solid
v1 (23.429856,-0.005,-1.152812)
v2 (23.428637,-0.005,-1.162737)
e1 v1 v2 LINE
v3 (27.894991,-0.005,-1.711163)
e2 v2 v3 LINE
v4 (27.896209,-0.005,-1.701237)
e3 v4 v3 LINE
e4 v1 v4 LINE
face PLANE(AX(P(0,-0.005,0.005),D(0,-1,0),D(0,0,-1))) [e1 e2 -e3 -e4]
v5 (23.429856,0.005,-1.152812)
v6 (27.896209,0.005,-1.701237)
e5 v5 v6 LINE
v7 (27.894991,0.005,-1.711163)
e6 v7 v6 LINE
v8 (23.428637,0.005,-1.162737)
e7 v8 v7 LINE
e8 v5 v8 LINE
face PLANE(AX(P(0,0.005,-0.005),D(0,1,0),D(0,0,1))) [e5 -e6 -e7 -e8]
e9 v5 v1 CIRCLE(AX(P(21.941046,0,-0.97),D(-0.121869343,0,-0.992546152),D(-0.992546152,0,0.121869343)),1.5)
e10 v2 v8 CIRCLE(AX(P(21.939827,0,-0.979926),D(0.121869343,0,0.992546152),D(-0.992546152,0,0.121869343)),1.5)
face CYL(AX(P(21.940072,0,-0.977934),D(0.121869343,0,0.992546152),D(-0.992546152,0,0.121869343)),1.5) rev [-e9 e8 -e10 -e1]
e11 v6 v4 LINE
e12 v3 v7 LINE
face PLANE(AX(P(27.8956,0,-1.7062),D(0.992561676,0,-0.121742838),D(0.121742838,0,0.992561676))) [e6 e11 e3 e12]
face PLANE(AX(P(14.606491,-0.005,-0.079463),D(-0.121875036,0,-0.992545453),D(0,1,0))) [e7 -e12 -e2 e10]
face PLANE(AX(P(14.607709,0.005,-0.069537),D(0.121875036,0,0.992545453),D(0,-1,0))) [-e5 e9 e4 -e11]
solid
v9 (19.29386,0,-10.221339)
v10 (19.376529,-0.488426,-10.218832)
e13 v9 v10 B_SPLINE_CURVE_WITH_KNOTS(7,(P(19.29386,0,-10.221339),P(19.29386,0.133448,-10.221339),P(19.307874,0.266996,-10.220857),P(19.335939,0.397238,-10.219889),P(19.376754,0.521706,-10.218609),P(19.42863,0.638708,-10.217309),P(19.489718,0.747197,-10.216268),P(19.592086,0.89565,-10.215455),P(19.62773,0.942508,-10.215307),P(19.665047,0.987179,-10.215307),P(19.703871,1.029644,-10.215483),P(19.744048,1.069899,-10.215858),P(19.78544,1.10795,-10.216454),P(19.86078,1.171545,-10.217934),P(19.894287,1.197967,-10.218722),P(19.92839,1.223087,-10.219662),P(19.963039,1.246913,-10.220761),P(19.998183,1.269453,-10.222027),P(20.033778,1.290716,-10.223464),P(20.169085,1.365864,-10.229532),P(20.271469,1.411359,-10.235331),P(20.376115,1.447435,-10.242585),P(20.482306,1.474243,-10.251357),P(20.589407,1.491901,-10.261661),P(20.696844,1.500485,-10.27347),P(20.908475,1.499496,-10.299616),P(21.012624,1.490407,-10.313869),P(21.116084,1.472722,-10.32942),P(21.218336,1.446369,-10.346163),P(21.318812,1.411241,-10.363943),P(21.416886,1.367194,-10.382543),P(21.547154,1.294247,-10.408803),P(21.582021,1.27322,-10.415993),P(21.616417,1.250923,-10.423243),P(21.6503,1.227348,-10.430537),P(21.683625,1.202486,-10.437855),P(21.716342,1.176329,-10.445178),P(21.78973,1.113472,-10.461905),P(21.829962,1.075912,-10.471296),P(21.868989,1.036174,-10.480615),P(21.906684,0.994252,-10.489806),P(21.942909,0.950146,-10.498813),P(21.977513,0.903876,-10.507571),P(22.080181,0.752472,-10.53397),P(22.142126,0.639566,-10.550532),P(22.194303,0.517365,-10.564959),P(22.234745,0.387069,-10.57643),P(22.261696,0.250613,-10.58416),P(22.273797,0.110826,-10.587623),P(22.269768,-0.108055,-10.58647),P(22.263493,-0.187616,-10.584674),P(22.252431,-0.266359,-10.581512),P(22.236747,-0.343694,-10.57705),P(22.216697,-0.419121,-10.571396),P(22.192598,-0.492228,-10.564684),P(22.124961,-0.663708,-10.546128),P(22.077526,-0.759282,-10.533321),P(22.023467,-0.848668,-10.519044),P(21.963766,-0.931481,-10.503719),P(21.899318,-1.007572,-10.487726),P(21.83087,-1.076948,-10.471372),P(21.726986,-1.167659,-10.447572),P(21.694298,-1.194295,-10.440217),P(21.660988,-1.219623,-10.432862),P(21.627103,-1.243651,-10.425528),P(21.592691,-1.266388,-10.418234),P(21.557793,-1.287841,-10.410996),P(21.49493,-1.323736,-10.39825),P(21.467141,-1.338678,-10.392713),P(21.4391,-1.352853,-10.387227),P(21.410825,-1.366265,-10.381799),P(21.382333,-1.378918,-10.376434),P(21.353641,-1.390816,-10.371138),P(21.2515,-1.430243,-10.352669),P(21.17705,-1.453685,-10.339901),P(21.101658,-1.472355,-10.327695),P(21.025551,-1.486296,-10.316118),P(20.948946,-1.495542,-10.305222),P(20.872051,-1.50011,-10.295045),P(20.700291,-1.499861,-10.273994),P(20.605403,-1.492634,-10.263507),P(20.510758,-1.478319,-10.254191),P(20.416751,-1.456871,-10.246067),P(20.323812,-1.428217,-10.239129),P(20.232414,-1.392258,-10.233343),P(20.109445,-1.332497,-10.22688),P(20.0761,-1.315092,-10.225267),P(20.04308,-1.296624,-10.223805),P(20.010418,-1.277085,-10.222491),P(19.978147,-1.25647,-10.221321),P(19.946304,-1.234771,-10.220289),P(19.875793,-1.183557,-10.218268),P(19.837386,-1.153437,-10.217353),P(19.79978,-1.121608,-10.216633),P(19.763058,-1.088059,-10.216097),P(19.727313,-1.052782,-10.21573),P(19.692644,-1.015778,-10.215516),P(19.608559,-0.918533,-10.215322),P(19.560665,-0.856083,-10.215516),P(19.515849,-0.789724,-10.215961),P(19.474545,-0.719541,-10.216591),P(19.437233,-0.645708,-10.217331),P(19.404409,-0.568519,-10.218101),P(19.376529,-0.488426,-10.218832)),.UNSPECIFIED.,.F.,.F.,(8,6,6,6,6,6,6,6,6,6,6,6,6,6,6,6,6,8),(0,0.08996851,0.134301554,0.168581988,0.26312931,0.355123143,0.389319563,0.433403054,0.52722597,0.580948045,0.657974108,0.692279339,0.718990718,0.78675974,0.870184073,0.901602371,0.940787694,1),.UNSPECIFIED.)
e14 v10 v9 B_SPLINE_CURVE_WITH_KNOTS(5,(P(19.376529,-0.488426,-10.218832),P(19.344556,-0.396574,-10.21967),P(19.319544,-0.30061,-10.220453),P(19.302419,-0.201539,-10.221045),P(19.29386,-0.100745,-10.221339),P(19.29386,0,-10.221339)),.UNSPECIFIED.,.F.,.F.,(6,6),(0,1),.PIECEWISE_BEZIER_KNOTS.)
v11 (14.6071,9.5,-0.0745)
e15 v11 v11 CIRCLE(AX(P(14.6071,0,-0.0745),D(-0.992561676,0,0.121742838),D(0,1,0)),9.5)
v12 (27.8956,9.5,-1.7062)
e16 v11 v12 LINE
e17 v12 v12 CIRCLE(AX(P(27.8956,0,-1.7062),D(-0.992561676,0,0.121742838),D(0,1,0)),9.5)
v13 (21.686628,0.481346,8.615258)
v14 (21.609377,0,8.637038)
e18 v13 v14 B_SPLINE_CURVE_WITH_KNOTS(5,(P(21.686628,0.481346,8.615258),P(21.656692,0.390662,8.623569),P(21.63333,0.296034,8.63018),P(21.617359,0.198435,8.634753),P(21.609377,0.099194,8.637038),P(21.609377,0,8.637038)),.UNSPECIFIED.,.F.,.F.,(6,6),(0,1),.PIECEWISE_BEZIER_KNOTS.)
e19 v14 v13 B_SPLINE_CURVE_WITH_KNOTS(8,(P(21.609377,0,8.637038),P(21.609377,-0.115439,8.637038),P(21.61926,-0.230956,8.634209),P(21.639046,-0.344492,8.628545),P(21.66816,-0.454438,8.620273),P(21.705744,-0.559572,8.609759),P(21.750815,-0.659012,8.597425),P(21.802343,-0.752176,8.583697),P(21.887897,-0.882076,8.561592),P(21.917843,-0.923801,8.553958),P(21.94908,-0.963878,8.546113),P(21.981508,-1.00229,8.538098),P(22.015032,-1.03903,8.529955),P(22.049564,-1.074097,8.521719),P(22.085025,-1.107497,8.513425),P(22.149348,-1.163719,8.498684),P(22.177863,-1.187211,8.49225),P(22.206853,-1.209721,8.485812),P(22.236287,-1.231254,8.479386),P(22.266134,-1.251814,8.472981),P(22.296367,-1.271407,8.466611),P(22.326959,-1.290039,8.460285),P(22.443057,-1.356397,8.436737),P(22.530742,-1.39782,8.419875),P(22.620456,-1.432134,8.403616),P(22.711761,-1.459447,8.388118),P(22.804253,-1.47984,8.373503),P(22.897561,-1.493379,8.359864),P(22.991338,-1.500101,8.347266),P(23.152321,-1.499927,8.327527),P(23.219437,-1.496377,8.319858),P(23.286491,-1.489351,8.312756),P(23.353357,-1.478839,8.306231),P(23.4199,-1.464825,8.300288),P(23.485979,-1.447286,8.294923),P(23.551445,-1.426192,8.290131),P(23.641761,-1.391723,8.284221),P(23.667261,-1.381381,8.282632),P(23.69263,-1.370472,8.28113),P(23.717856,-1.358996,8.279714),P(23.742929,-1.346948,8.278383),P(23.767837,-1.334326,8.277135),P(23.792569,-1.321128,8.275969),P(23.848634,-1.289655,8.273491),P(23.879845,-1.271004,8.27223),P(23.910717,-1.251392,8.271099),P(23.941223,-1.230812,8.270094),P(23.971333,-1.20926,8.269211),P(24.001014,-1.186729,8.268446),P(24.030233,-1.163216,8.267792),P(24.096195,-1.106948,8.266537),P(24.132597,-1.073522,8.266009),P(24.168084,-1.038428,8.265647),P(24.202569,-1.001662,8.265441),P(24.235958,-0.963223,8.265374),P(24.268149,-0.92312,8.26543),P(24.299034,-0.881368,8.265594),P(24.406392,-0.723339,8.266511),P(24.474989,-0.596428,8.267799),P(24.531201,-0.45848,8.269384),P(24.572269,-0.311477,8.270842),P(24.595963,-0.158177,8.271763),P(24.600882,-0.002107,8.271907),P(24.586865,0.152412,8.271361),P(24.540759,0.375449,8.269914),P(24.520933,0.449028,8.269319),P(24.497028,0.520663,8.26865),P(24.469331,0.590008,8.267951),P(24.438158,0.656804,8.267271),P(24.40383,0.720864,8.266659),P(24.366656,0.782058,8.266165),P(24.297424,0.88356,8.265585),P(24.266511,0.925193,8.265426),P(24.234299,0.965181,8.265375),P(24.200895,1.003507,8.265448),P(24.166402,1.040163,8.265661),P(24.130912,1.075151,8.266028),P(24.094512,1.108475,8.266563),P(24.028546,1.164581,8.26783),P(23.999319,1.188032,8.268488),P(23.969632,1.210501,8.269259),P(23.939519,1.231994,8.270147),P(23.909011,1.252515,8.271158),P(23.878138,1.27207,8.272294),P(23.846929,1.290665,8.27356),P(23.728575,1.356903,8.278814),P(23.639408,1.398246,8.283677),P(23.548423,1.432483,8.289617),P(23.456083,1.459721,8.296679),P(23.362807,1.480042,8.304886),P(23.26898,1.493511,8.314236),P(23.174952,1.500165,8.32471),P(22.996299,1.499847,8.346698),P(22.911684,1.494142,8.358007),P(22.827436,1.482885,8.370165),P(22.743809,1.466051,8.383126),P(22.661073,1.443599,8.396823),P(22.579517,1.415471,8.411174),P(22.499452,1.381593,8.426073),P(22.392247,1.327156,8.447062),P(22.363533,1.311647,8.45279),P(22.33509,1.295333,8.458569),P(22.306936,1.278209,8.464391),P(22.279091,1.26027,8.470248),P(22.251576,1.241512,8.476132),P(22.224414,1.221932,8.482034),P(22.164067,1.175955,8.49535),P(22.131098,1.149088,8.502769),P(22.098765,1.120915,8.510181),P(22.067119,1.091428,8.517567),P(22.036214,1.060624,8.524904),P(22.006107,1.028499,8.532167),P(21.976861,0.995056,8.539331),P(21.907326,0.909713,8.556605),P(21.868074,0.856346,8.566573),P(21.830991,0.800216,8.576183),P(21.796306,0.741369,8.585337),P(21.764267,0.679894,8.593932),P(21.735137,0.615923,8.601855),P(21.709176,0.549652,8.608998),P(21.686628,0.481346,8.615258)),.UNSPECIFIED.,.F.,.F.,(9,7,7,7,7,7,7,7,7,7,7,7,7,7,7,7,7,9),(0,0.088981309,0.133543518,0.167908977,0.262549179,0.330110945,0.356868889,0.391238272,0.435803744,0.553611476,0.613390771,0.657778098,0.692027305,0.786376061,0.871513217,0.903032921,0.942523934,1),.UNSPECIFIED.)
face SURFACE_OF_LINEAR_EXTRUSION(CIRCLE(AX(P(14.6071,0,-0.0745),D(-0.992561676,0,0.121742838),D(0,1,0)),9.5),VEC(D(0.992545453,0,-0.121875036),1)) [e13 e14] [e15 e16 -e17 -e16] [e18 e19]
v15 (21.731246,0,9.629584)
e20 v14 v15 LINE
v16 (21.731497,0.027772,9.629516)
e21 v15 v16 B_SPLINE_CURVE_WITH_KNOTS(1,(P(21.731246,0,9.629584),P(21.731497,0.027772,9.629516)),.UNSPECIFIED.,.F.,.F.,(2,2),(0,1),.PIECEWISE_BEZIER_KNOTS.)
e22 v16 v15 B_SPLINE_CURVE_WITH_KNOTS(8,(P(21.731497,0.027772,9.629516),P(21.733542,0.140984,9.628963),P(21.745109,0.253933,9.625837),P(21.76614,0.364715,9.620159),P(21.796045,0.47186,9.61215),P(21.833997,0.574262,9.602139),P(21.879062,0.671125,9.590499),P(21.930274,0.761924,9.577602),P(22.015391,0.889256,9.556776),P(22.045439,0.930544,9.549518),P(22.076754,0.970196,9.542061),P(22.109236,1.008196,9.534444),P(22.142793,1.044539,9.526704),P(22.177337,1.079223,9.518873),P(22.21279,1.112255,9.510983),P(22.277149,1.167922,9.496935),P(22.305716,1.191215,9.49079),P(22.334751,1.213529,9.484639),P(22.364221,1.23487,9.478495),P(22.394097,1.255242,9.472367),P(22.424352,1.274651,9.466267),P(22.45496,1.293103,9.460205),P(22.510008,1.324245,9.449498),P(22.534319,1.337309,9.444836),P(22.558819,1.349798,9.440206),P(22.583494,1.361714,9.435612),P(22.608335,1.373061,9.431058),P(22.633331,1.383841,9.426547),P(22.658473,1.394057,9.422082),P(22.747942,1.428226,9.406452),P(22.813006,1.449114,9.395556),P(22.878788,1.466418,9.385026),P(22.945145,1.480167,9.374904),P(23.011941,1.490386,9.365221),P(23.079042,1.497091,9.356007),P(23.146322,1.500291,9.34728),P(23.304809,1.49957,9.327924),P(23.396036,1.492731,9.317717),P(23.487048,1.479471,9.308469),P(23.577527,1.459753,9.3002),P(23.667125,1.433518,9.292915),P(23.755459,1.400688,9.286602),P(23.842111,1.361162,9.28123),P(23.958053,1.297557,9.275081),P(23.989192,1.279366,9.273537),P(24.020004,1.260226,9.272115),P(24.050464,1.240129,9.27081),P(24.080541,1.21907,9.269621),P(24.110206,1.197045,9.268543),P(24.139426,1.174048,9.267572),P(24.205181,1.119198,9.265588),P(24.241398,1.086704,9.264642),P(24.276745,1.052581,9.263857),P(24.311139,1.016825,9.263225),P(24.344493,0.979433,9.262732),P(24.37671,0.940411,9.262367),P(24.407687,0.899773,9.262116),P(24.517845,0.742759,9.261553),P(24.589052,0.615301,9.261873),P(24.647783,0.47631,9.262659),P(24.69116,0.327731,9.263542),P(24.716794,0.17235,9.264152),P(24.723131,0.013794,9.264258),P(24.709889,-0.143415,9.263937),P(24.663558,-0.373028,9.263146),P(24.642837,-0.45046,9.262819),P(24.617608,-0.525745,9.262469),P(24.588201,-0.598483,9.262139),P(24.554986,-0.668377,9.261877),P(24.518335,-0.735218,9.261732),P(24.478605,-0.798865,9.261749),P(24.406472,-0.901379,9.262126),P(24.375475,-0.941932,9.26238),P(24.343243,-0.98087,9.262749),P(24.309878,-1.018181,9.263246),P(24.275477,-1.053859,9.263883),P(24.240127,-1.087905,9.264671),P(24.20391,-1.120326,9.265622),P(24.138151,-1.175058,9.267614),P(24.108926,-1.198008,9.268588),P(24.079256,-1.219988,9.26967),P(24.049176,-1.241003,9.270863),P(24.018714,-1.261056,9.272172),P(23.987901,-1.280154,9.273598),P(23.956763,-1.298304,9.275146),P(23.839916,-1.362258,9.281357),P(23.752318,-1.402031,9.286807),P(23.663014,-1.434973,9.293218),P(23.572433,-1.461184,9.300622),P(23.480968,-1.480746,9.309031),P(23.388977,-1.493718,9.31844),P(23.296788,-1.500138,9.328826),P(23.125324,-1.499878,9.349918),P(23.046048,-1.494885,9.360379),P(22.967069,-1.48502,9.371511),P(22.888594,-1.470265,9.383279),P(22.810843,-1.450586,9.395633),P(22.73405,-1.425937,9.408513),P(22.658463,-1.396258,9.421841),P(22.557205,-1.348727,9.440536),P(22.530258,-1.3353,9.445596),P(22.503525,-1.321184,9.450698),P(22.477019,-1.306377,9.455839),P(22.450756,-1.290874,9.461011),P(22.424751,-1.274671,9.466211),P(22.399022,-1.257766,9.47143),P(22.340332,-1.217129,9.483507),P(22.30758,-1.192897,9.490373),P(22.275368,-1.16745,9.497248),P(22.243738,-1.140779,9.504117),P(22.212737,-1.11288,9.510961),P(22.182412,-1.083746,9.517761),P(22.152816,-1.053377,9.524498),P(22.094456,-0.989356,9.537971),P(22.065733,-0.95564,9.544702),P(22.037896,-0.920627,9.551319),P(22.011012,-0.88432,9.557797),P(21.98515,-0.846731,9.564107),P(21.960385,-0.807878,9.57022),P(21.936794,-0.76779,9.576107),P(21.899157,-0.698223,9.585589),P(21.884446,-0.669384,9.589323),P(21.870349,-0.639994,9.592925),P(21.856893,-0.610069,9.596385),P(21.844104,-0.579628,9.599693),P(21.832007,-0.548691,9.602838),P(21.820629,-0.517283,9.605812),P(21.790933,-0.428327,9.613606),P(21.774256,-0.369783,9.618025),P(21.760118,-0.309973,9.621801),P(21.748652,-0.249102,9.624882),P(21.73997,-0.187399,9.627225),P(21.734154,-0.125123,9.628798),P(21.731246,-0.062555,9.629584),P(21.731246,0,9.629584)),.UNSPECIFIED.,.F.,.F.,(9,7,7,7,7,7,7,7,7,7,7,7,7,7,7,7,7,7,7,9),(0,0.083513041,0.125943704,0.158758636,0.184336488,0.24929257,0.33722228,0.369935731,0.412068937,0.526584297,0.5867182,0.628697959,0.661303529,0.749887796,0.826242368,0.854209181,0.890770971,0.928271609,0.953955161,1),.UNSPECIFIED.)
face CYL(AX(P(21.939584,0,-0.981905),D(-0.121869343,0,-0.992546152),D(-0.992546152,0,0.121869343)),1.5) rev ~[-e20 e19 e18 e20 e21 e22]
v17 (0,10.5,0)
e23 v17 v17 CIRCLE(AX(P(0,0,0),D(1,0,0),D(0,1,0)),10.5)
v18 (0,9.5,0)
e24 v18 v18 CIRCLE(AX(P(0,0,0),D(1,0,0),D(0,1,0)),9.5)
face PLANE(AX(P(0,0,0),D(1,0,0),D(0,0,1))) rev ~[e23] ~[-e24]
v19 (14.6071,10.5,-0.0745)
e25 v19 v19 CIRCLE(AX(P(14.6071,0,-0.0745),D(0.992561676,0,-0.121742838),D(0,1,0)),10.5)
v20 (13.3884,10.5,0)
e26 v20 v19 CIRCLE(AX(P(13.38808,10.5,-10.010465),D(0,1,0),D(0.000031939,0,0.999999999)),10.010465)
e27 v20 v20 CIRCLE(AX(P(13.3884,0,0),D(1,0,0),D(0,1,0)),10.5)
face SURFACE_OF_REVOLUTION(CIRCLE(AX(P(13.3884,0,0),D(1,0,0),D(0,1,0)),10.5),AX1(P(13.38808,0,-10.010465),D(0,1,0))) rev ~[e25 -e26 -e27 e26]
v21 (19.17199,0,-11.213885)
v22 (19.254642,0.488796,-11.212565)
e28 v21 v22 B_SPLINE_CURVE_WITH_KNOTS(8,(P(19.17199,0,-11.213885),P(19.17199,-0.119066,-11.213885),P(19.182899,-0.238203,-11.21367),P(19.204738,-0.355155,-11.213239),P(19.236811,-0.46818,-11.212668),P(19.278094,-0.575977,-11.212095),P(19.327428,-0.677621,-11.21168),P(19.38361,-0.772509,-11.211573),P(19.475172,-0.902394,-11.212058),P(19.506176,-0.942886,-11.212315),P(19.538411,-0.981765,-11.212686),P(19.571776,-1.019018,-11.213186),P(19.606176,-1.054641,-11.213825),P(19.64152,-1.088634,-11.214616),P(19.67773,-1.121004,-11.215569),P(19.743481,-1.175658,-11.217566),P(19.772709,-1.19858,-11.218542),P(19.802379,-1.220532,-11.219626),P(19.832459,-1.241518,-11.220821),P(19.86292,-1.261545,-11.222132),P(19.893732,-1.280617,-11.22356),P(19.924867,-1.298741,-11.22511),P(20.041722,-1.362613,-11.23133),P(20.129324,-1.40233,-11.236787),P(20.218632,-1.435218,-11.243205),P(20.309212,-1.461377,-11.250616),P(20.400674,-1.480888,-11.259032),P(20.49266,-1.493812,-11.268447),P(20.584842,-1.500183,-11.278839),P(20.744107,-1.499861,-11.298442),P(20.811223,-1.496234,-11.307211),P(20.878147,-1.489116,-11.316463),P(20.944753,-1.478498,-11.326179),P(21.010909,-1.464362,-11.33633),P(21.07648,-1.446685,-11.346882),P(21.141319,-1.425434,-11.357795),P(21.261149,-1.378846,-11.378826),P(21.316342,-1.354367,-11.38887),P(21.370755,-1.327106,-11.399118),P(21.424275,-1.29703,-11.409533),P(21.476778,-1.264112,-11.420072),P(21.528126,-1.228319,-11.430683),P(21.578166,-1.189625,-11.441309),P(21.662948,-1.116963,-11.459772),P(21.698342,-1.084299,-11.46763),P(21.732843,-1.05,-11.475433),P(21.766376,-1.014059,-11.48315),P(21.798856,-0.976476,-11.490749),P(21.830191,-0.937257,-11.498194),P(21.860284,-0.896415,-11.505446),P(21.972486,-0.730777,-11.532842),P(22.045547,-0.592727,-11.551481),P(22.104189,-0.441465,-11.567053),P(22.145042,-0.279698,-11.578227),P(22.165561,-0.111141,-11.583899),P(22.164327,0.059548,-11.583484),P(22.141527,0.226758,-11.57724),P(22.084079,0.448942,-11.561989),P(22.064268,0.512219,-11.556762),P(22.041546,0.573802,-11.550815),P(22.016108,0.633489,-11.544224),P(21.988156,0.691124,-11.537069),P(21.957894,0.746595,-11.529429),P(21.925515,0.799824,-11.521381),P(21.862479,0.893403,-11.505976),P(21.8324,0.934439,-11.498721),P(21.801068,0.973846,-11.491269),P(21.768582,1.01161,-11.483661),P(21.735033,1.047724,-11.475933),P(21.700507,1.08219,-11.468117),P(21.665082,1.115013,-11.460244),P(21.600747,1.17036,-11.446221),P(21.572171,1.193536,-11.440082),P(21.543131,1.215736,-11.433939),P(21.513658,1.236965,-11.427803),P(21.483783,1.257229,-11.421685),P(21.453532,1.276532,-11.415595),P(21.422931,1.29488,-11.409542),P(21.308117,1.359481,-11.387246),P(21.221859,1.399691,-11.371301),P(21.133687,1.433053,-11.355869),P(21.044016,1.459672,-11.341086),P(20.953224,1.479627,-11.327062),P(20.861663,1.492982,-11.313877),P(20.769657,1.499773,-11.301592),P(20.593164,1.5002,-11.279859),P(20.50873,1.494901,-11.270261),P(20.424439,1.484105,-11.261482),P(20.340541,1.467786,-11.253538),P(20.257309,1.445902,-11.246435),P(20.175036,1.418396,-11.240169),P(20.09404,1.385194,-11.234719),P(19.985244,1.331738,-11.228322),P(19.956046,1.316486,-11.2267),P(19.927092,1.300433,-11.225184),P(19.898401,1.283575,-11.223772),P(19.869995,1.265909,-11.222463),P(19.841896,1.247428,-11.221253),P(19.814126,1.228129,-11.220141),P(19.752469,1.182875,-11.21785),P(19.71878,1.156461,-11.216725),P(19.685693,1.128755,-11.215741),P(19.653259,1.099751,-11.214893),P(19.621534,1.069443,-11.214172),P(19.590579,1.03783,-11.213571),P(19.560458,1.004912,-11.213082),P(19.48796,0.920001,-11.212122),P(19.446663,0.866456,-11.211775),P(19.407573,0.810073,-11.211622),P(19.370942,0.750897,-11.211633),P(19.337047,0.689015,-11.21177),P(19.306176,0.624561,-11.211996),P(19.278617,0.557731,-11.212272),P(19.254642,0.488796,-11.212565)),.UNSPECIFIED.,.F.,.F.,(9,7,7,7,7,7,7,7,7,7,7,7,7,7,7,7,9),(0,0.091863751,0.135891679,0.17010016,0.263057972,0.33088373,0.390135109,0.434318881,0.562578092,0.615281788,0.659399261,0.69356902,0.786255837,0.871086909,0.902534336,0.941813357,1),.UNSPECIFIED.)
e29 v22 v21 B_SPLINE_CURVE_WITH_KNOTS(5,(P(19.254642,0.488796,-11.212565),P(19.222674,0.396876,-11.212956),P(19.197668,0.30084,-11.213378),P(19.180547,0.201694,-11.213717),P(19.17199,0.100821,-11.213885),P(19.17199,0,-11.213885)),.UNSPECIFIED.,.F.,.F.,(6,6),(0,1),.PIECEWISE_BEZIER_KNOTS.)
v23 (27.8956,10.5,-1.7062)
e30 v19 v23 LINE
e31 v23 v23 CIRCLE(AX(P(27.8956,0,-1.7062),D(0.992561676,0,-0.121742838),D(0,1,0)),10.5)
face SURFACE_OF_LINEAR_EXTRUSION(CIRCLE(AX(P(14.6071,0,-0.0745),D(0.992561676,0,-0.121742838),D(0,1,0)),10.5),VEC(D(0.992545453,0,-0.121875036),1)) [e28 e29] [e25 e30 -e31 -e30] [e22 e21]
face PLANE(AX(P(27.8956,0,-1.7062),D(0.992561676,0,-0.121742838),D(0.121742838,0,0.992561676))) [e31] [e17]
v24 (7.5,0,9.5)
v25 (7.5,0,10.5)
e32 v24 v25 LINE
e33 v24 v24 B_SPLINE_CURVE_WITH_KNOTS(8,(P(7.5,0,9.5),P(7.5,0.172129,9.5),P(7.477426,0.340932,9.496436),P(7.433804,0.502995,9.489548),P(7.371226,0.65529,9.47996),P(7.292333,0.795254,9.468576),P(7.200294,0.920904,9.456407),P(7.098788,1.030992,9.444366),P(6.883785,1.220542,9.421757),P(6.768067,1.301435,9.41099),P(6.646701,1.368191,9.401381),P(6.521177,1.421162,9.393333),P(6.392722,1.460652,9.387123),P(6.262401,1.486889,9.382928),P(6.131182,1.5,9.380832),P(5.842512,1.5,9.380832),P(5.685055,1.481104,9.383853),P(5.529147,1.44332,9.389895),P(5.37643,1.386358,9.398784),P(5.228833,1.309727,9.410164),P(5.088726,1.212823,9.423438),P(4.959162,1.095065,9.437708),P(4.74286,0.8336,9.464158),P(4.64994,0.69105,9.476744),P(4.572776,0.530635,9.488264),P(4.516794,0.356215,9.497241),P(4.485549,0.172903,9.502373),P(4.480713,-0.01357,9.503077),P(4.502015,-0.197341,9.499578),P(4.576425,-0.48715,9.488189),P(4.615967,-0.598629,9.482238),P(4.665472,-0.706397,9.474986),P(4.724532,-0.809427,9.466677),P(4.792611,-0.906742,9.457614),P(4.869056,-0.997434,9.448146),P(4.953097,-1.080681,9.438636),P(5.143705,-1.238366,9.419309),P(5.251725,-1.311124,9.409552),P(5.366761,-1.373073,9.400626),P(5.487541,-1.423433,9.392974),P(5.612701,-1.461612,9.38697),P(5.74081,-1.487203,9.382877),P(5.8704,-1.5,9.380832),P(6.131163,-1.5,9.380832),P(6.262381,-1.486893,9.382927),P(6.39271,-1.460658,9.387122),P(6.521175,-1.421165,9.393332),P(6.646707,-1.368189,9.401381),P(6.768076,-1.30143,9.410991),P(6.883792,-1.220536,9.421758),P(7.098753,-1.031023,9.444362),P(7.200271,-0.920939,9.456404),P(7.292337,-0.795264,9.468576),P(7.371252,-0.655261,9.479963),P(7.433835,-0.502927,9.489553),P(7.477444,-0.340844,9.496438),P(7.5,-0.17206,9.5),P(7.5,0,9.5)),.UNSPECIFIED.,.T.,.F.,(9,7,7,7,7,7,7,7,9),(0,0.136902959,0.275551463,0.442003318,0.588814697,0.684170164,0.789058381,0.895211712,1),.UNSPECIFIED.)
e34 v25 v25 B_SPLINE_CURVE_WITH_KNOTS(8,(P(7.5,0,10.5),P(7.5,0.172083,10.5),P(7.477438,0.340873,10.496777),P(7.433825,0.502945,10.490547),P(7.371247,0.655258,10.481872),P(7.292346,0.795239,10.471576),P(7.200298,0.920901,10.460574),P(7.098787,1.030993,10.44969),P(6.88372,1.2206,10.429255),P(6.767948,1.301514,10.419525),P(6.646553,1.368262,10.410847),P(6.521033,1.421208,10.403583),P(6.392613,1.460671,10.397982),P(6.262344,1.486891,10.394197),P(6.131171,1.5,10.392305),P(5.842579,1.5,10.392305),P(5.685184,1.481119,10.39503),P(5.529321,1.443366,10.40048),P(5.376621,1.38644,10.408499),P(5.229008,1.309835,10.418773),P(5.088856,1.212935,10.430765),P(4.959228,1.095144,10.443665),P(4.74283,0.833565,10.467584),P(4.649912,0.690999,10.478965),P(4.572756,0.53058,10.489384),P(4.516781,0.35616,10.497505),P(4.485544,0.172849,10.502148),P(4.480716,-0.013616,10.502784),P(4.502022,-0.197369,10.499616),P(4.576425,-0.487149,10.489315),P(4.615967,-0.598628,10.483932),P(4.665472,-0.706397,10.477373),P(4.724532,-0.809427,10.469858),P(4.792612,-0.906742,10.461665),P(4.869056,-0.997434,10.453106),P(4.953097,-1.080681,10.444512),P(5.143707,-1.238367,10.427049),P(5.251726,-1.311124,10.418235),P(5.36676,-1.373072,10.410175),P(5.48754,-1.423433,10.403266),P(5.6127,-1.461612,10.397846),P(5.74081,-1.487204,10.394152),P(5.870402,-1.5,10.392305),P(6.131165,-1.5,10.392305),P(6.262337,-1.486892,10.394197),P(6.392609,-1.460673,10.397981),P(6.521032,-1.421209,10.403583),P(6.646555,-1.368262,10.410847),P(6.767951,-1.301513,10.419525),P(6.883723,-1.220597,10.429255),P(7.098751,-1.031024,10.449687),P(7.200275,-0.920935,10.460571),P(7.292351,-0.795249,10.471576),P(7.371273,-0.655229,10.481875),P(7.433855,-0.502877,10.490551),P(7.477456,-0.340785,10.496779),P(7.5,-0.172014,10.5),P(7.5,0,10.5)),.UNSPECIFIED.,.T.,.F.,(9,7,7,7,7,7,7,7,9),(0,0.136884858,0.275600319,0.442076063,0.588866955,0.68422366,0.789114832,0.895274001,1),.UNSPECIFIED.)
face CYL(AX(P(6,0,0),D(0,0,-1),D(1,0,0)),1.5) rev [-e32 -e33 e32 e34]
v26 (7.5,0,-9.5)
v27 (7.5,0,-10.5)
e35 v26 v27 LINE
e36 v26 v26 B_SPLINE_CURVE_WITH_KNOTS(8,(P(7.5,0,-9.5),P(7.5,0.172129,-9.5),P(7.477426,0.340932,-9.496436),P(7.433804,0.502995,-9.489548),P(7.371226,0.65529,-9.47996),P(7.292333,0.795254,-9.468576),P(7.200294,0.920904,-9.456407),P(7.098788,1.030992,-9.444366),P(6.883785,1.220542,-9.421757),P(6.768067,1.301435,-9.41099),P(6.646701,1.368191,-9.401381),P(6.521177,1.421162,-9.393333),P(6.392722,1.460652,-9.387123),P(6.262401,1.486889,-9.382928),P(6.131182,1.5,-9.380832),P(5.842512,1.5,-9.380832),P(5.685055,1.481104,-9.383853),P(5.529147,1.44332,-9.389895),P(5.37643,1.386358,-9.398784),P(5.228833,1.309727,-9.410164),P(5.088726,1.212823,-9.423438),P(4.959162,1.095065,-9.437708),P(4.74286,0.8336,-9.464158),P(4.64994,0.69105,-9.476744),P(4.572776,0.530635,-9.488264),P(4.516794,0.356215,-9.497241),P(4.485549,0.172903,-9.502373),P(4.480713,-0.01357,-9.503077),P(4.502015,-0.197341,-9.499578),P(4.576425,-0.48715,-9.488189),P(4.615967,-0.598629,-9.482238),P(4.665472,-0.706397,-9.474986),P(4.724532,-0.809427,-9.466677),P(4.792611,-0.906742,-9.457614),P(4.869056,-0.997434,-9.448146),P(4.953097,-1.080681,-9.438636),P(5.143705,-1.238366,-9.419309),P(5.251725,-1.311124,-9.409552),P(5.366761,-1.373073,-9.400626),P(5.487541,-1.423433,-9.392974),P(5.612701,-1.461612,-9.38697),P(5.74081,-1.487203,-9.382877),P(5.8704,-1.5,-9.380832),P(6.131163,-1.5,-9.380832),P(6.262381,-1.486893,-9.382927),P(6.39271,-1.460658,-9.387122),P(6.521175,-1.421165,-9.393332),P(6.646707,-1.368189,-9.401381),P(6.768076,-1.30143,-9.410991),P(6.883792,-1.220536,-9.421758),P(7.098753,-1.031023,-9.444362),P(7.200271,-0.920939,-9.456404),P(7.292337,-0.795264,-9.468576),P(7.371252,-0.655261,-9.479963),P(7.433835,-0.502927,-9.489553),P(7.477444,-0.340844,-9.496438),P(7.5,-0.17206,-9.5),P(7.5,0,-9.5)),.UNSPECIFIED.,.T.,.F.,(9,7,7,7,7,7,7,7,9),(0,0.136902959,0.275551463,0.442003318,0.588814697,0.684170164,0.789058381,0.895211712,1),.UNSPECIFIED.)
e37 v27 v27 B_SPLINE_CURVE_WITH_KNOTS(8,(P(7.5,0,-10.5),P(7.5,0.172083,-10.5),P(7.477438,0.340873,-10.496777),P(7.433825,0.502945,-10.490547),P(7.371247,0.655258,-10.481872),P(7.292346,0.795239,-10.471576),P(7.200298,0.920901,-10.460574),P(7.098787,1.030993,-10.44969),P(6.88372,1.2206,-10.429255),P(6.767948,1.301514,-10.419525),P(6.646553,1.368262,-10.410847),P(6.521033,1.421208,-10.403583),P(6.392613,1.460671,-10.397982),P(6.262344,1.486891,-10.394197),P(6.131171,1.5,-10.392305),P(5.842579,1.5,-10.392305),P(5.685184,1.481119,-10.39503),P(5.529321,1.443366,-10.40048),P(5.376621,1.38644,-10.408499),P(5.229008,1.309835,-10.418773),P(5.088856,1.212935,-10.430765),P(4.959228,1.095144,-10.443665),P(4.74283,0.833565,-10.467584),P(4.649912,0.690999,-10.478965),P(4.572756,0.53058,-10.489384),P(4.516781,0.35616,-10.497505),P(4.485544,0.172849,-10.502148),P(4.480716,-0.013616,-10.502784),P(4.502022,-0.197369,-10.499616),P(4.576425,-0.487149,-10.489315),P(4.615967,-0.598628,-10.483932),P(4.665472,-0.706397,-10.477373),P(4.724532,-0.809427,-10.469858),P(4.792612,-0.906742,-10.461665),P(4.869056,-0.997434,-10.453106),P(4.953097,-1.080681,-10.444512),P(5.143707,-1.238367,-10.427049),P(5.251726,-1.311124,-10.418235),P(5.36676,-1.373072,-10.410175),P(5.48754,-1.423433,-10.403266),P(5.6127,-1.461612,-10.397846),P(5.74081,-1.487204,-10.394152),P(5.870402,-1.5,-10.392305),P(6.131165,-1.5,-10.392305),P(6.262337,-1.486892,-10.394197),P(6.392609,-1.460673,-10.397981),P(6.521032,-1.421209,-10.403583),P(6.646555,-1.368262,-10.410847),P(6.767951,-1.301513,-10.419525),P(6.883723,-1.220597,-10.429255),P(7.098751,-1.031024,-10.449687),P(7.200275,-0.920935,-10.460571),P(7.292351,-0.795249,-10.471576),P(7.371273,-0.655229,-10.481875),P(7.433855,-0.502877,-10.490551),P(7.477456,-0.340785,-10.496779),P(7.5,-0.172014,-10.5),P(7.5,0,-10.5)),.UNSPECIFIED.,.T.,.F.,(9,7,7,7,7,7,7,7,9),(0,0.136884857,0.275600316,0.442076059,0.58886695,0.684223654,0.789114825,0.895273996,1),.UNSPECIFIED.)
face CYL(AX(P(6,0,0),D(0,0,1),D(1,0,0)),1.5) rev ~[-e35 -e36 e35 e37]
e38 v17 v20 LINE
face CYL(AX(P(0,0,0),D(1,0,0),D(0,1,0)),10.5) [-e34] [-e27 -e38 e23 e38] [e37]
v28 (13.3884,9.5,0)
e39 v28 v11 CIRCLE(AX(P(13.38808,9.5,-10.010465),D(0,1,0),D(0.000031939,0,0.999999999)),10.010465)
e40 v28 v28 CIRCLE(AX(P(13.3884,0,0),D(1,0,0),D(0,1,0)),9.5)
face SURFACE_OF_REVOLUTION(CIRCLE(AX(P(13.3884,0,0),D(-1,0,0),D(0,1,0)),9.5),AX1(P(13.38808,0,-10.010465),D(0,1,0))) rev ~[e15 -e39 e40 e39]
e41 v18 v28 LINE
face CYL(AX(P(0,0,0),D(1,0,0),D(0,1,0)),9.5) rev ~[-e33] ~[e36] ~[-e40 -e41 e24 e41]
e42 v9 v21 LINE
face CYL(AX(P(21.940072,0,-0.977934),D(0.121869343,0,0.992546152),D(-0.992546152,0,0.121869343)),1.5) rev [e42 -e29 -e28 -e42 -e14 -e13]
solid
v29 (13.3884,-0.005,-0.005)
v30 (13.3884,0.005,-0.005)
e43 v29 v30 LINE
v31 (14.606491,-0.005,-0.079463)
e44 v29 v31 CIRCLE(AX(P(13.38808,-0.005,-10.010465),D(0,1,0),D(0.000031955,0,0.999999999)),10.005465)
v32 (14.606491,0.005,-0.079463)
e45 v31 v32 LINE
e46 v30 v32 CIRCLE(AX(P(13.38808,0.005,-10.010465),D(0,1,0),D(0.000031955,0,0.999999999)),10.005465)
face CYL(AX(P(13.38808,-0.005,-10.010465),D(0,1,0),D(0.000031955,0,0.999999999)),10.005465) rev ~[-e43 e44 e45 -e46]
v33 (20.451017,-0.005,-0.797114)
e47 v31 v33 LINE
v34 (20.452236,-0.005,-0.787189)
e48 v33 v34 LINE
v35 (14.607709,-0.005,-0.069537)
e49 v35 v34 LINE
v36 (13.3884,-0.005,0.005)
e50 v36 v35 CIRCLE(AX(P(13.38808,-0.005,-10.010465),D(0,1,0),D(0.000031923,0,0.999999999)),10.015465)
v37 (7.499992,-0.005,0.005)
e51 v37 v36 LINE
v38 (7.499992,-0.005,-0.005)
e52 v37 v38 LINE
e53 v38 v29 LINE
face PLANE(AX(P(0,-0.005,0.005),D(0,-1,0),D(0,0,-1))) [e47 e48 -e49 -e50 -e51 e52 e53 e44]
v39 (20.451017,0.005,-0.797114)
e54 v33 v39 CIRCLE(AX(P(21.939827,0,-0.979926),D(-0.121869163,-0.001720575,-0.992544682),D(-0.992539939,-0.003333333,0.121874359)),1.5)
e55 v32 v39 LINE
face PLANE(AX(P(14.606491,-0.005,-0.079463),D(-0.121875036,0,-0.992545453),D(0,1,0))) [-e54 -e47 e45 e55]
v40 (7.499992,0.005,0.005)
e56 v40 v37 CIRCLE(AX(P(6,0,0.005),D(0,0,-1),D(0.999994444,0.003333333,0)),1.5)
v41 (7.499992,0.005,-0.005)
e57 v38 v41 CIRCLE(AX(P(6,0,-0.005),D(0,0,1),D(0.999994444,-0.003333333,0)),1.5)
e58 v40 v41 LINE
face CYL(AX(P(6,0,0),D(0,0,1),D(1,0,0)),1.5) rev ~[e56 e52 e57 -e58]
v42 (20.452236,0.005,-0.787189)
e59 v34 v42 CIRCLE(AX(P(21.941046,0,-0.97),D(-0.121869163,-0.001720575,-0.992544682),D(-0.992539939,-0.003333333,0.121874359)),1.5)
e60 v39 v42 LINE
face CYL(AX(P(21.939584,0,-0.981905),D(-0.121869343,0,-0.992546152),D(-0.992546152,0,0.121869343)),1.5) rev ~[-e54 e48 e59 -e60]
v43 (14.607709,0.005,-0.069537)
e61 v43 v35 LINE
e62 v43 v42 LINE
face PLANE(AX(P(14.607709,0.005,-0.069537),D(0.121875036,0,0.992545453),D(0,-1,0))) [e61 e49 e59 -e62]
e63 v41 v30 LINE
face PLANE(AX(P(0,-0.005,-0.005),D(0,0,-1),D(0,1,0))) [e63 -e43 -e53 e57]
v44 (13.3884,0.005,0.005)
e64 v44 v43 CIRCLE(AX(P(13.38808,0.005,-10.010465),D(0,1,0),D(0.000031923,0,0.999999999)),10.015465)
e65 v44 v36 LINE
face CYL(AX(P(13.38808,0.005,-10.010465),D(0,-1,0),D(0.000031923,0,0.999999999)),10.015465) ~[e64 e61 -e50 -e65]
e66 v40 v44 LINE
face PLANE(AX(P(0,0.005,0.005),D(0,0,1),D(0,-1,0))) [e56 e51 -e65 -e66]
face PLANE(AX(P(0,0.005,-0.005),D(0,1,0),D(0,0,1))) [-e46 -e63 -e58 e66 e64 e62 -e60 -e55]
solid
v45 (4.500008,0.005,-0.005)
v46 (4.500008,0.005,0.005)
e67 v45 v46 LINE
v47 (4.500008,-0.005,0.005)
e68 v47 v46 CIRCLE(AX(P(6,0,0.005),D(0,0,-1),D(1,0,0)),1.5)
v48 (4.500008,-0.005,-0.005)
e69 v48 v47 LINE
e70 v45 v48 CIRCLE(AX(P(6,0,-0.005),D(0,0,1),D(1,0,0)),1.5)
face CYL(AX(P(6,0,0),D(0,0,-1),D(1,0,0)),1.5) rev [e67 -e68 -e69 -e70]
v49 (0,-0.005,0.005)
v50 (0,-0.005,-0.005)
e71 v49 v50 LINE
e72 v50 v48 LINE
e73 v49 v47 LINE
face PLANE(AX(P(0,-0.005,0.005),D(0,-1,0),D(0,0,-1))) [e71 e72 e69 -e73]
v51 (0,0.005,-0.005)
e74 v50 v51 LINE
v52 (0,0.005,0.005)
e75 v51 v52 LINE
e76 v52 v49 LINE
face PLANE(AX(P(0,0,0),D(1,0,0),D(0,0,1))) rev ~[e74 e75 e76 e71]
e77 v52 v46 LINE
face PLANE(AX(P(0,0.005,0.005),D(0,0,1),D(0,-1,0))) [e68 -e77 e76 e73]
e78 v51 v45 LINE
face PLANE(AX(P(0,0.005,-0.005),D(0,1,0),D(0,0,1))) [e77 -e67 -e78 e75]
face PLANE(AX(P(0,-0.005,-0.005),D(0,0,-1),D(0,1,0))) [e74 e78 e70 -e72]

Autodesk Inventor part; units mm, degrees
ref_plane "YZ Plane" through (0, 0, 0) normal (1, 0, 0) x (0, 1, 0)
ref_plane "XZ Plane" through (0, 0, 0) normal (0, 1, 0) x (-1, 0, 0)
ref_plane "XY Plane" through (0, 0, 0) normal (0, 0, 1) x (1, 0, 0)
sketch "Sketch5" plane through (0, 0, 0) normal (0, 1, 0) x (-1, 0, 0)
  line L0 (0, 0) -> (-13.3884, 0)
  line L1 (-14.6071, -0.0745) -> (-27.8956, -1.7062)
  arc A0 (-13.3884, 0) -> (-14.6071, -0.0745) centre (-13.3884, -10) ccw
  point P0 (-14, 0)
  dimension "d122" = 14
  dimension "d123" = 14
  dimension "d124" = 173
  dimension "d125" = 10
sketch "Sketch6" plane through (0, 0, 0) normal (1, 0, 0) x (0, 1, 0)
  circle A0 centre (0, 0) radius 9.5
  circle A1 centre (0, 0) radius 10.5
  line L0 (-0.005, -0.005) -> (0.005, -0.005)
  line L1 (0.005, -0.005) -> (0.005, 0.005)
  line L2 (0.005, 0.005) -> (-0.005, 0.005)
  line L3 (-0.005, 0.005) -> (-0.005, -0.005)
  line L4 (-0.005, -0.005) -> (0.005, 0.005) construction
  line L5 (0.005, -0.005) -> (-0.005, 0.005) construction
  dimension "d126" = 19
  dimension "d127" = 21
  dimension "d138" = 0.01
  dimension "d139" = 0.01
sweep "Sweep1" add profiles "Sketch6" path "Sketch5"
sketch "Sketch7" plane through (0, 0, 0) normal (0, 0, 1) x (1, 0, 0)
  line L0 (0, 0) -> (6, 0) construction
  circle A0 centre (6, 0) radius 1.5
  dimension "d130" = 6
  dimension "d131" = 3
extrude "Extrusion8" cut sketch "Sketch7" along normal mid plane 25
sketch "Sketch8" plane through (14.6065, -0.005, -0.0795) normal (-0.1219, 0, -0.9925) x (-0.9925, 0, 0.1219)
  line L0 (-13.3884, 0) -> (-13.3884, 0.01) projected
  line L1 (-13.3884, 0.005) -> (-7.3884, 0.005) construction
  circle A0 centre (-7.3884, 0.005) radius 1.5
  point P0 (14.5073, 0.005)
  dimension "d134" = 6
  dimension "d135" = 3
extrude "Extrusion9" cut sketch "Sketch8" along normal mid plane 25
properties part number "airfoil"
